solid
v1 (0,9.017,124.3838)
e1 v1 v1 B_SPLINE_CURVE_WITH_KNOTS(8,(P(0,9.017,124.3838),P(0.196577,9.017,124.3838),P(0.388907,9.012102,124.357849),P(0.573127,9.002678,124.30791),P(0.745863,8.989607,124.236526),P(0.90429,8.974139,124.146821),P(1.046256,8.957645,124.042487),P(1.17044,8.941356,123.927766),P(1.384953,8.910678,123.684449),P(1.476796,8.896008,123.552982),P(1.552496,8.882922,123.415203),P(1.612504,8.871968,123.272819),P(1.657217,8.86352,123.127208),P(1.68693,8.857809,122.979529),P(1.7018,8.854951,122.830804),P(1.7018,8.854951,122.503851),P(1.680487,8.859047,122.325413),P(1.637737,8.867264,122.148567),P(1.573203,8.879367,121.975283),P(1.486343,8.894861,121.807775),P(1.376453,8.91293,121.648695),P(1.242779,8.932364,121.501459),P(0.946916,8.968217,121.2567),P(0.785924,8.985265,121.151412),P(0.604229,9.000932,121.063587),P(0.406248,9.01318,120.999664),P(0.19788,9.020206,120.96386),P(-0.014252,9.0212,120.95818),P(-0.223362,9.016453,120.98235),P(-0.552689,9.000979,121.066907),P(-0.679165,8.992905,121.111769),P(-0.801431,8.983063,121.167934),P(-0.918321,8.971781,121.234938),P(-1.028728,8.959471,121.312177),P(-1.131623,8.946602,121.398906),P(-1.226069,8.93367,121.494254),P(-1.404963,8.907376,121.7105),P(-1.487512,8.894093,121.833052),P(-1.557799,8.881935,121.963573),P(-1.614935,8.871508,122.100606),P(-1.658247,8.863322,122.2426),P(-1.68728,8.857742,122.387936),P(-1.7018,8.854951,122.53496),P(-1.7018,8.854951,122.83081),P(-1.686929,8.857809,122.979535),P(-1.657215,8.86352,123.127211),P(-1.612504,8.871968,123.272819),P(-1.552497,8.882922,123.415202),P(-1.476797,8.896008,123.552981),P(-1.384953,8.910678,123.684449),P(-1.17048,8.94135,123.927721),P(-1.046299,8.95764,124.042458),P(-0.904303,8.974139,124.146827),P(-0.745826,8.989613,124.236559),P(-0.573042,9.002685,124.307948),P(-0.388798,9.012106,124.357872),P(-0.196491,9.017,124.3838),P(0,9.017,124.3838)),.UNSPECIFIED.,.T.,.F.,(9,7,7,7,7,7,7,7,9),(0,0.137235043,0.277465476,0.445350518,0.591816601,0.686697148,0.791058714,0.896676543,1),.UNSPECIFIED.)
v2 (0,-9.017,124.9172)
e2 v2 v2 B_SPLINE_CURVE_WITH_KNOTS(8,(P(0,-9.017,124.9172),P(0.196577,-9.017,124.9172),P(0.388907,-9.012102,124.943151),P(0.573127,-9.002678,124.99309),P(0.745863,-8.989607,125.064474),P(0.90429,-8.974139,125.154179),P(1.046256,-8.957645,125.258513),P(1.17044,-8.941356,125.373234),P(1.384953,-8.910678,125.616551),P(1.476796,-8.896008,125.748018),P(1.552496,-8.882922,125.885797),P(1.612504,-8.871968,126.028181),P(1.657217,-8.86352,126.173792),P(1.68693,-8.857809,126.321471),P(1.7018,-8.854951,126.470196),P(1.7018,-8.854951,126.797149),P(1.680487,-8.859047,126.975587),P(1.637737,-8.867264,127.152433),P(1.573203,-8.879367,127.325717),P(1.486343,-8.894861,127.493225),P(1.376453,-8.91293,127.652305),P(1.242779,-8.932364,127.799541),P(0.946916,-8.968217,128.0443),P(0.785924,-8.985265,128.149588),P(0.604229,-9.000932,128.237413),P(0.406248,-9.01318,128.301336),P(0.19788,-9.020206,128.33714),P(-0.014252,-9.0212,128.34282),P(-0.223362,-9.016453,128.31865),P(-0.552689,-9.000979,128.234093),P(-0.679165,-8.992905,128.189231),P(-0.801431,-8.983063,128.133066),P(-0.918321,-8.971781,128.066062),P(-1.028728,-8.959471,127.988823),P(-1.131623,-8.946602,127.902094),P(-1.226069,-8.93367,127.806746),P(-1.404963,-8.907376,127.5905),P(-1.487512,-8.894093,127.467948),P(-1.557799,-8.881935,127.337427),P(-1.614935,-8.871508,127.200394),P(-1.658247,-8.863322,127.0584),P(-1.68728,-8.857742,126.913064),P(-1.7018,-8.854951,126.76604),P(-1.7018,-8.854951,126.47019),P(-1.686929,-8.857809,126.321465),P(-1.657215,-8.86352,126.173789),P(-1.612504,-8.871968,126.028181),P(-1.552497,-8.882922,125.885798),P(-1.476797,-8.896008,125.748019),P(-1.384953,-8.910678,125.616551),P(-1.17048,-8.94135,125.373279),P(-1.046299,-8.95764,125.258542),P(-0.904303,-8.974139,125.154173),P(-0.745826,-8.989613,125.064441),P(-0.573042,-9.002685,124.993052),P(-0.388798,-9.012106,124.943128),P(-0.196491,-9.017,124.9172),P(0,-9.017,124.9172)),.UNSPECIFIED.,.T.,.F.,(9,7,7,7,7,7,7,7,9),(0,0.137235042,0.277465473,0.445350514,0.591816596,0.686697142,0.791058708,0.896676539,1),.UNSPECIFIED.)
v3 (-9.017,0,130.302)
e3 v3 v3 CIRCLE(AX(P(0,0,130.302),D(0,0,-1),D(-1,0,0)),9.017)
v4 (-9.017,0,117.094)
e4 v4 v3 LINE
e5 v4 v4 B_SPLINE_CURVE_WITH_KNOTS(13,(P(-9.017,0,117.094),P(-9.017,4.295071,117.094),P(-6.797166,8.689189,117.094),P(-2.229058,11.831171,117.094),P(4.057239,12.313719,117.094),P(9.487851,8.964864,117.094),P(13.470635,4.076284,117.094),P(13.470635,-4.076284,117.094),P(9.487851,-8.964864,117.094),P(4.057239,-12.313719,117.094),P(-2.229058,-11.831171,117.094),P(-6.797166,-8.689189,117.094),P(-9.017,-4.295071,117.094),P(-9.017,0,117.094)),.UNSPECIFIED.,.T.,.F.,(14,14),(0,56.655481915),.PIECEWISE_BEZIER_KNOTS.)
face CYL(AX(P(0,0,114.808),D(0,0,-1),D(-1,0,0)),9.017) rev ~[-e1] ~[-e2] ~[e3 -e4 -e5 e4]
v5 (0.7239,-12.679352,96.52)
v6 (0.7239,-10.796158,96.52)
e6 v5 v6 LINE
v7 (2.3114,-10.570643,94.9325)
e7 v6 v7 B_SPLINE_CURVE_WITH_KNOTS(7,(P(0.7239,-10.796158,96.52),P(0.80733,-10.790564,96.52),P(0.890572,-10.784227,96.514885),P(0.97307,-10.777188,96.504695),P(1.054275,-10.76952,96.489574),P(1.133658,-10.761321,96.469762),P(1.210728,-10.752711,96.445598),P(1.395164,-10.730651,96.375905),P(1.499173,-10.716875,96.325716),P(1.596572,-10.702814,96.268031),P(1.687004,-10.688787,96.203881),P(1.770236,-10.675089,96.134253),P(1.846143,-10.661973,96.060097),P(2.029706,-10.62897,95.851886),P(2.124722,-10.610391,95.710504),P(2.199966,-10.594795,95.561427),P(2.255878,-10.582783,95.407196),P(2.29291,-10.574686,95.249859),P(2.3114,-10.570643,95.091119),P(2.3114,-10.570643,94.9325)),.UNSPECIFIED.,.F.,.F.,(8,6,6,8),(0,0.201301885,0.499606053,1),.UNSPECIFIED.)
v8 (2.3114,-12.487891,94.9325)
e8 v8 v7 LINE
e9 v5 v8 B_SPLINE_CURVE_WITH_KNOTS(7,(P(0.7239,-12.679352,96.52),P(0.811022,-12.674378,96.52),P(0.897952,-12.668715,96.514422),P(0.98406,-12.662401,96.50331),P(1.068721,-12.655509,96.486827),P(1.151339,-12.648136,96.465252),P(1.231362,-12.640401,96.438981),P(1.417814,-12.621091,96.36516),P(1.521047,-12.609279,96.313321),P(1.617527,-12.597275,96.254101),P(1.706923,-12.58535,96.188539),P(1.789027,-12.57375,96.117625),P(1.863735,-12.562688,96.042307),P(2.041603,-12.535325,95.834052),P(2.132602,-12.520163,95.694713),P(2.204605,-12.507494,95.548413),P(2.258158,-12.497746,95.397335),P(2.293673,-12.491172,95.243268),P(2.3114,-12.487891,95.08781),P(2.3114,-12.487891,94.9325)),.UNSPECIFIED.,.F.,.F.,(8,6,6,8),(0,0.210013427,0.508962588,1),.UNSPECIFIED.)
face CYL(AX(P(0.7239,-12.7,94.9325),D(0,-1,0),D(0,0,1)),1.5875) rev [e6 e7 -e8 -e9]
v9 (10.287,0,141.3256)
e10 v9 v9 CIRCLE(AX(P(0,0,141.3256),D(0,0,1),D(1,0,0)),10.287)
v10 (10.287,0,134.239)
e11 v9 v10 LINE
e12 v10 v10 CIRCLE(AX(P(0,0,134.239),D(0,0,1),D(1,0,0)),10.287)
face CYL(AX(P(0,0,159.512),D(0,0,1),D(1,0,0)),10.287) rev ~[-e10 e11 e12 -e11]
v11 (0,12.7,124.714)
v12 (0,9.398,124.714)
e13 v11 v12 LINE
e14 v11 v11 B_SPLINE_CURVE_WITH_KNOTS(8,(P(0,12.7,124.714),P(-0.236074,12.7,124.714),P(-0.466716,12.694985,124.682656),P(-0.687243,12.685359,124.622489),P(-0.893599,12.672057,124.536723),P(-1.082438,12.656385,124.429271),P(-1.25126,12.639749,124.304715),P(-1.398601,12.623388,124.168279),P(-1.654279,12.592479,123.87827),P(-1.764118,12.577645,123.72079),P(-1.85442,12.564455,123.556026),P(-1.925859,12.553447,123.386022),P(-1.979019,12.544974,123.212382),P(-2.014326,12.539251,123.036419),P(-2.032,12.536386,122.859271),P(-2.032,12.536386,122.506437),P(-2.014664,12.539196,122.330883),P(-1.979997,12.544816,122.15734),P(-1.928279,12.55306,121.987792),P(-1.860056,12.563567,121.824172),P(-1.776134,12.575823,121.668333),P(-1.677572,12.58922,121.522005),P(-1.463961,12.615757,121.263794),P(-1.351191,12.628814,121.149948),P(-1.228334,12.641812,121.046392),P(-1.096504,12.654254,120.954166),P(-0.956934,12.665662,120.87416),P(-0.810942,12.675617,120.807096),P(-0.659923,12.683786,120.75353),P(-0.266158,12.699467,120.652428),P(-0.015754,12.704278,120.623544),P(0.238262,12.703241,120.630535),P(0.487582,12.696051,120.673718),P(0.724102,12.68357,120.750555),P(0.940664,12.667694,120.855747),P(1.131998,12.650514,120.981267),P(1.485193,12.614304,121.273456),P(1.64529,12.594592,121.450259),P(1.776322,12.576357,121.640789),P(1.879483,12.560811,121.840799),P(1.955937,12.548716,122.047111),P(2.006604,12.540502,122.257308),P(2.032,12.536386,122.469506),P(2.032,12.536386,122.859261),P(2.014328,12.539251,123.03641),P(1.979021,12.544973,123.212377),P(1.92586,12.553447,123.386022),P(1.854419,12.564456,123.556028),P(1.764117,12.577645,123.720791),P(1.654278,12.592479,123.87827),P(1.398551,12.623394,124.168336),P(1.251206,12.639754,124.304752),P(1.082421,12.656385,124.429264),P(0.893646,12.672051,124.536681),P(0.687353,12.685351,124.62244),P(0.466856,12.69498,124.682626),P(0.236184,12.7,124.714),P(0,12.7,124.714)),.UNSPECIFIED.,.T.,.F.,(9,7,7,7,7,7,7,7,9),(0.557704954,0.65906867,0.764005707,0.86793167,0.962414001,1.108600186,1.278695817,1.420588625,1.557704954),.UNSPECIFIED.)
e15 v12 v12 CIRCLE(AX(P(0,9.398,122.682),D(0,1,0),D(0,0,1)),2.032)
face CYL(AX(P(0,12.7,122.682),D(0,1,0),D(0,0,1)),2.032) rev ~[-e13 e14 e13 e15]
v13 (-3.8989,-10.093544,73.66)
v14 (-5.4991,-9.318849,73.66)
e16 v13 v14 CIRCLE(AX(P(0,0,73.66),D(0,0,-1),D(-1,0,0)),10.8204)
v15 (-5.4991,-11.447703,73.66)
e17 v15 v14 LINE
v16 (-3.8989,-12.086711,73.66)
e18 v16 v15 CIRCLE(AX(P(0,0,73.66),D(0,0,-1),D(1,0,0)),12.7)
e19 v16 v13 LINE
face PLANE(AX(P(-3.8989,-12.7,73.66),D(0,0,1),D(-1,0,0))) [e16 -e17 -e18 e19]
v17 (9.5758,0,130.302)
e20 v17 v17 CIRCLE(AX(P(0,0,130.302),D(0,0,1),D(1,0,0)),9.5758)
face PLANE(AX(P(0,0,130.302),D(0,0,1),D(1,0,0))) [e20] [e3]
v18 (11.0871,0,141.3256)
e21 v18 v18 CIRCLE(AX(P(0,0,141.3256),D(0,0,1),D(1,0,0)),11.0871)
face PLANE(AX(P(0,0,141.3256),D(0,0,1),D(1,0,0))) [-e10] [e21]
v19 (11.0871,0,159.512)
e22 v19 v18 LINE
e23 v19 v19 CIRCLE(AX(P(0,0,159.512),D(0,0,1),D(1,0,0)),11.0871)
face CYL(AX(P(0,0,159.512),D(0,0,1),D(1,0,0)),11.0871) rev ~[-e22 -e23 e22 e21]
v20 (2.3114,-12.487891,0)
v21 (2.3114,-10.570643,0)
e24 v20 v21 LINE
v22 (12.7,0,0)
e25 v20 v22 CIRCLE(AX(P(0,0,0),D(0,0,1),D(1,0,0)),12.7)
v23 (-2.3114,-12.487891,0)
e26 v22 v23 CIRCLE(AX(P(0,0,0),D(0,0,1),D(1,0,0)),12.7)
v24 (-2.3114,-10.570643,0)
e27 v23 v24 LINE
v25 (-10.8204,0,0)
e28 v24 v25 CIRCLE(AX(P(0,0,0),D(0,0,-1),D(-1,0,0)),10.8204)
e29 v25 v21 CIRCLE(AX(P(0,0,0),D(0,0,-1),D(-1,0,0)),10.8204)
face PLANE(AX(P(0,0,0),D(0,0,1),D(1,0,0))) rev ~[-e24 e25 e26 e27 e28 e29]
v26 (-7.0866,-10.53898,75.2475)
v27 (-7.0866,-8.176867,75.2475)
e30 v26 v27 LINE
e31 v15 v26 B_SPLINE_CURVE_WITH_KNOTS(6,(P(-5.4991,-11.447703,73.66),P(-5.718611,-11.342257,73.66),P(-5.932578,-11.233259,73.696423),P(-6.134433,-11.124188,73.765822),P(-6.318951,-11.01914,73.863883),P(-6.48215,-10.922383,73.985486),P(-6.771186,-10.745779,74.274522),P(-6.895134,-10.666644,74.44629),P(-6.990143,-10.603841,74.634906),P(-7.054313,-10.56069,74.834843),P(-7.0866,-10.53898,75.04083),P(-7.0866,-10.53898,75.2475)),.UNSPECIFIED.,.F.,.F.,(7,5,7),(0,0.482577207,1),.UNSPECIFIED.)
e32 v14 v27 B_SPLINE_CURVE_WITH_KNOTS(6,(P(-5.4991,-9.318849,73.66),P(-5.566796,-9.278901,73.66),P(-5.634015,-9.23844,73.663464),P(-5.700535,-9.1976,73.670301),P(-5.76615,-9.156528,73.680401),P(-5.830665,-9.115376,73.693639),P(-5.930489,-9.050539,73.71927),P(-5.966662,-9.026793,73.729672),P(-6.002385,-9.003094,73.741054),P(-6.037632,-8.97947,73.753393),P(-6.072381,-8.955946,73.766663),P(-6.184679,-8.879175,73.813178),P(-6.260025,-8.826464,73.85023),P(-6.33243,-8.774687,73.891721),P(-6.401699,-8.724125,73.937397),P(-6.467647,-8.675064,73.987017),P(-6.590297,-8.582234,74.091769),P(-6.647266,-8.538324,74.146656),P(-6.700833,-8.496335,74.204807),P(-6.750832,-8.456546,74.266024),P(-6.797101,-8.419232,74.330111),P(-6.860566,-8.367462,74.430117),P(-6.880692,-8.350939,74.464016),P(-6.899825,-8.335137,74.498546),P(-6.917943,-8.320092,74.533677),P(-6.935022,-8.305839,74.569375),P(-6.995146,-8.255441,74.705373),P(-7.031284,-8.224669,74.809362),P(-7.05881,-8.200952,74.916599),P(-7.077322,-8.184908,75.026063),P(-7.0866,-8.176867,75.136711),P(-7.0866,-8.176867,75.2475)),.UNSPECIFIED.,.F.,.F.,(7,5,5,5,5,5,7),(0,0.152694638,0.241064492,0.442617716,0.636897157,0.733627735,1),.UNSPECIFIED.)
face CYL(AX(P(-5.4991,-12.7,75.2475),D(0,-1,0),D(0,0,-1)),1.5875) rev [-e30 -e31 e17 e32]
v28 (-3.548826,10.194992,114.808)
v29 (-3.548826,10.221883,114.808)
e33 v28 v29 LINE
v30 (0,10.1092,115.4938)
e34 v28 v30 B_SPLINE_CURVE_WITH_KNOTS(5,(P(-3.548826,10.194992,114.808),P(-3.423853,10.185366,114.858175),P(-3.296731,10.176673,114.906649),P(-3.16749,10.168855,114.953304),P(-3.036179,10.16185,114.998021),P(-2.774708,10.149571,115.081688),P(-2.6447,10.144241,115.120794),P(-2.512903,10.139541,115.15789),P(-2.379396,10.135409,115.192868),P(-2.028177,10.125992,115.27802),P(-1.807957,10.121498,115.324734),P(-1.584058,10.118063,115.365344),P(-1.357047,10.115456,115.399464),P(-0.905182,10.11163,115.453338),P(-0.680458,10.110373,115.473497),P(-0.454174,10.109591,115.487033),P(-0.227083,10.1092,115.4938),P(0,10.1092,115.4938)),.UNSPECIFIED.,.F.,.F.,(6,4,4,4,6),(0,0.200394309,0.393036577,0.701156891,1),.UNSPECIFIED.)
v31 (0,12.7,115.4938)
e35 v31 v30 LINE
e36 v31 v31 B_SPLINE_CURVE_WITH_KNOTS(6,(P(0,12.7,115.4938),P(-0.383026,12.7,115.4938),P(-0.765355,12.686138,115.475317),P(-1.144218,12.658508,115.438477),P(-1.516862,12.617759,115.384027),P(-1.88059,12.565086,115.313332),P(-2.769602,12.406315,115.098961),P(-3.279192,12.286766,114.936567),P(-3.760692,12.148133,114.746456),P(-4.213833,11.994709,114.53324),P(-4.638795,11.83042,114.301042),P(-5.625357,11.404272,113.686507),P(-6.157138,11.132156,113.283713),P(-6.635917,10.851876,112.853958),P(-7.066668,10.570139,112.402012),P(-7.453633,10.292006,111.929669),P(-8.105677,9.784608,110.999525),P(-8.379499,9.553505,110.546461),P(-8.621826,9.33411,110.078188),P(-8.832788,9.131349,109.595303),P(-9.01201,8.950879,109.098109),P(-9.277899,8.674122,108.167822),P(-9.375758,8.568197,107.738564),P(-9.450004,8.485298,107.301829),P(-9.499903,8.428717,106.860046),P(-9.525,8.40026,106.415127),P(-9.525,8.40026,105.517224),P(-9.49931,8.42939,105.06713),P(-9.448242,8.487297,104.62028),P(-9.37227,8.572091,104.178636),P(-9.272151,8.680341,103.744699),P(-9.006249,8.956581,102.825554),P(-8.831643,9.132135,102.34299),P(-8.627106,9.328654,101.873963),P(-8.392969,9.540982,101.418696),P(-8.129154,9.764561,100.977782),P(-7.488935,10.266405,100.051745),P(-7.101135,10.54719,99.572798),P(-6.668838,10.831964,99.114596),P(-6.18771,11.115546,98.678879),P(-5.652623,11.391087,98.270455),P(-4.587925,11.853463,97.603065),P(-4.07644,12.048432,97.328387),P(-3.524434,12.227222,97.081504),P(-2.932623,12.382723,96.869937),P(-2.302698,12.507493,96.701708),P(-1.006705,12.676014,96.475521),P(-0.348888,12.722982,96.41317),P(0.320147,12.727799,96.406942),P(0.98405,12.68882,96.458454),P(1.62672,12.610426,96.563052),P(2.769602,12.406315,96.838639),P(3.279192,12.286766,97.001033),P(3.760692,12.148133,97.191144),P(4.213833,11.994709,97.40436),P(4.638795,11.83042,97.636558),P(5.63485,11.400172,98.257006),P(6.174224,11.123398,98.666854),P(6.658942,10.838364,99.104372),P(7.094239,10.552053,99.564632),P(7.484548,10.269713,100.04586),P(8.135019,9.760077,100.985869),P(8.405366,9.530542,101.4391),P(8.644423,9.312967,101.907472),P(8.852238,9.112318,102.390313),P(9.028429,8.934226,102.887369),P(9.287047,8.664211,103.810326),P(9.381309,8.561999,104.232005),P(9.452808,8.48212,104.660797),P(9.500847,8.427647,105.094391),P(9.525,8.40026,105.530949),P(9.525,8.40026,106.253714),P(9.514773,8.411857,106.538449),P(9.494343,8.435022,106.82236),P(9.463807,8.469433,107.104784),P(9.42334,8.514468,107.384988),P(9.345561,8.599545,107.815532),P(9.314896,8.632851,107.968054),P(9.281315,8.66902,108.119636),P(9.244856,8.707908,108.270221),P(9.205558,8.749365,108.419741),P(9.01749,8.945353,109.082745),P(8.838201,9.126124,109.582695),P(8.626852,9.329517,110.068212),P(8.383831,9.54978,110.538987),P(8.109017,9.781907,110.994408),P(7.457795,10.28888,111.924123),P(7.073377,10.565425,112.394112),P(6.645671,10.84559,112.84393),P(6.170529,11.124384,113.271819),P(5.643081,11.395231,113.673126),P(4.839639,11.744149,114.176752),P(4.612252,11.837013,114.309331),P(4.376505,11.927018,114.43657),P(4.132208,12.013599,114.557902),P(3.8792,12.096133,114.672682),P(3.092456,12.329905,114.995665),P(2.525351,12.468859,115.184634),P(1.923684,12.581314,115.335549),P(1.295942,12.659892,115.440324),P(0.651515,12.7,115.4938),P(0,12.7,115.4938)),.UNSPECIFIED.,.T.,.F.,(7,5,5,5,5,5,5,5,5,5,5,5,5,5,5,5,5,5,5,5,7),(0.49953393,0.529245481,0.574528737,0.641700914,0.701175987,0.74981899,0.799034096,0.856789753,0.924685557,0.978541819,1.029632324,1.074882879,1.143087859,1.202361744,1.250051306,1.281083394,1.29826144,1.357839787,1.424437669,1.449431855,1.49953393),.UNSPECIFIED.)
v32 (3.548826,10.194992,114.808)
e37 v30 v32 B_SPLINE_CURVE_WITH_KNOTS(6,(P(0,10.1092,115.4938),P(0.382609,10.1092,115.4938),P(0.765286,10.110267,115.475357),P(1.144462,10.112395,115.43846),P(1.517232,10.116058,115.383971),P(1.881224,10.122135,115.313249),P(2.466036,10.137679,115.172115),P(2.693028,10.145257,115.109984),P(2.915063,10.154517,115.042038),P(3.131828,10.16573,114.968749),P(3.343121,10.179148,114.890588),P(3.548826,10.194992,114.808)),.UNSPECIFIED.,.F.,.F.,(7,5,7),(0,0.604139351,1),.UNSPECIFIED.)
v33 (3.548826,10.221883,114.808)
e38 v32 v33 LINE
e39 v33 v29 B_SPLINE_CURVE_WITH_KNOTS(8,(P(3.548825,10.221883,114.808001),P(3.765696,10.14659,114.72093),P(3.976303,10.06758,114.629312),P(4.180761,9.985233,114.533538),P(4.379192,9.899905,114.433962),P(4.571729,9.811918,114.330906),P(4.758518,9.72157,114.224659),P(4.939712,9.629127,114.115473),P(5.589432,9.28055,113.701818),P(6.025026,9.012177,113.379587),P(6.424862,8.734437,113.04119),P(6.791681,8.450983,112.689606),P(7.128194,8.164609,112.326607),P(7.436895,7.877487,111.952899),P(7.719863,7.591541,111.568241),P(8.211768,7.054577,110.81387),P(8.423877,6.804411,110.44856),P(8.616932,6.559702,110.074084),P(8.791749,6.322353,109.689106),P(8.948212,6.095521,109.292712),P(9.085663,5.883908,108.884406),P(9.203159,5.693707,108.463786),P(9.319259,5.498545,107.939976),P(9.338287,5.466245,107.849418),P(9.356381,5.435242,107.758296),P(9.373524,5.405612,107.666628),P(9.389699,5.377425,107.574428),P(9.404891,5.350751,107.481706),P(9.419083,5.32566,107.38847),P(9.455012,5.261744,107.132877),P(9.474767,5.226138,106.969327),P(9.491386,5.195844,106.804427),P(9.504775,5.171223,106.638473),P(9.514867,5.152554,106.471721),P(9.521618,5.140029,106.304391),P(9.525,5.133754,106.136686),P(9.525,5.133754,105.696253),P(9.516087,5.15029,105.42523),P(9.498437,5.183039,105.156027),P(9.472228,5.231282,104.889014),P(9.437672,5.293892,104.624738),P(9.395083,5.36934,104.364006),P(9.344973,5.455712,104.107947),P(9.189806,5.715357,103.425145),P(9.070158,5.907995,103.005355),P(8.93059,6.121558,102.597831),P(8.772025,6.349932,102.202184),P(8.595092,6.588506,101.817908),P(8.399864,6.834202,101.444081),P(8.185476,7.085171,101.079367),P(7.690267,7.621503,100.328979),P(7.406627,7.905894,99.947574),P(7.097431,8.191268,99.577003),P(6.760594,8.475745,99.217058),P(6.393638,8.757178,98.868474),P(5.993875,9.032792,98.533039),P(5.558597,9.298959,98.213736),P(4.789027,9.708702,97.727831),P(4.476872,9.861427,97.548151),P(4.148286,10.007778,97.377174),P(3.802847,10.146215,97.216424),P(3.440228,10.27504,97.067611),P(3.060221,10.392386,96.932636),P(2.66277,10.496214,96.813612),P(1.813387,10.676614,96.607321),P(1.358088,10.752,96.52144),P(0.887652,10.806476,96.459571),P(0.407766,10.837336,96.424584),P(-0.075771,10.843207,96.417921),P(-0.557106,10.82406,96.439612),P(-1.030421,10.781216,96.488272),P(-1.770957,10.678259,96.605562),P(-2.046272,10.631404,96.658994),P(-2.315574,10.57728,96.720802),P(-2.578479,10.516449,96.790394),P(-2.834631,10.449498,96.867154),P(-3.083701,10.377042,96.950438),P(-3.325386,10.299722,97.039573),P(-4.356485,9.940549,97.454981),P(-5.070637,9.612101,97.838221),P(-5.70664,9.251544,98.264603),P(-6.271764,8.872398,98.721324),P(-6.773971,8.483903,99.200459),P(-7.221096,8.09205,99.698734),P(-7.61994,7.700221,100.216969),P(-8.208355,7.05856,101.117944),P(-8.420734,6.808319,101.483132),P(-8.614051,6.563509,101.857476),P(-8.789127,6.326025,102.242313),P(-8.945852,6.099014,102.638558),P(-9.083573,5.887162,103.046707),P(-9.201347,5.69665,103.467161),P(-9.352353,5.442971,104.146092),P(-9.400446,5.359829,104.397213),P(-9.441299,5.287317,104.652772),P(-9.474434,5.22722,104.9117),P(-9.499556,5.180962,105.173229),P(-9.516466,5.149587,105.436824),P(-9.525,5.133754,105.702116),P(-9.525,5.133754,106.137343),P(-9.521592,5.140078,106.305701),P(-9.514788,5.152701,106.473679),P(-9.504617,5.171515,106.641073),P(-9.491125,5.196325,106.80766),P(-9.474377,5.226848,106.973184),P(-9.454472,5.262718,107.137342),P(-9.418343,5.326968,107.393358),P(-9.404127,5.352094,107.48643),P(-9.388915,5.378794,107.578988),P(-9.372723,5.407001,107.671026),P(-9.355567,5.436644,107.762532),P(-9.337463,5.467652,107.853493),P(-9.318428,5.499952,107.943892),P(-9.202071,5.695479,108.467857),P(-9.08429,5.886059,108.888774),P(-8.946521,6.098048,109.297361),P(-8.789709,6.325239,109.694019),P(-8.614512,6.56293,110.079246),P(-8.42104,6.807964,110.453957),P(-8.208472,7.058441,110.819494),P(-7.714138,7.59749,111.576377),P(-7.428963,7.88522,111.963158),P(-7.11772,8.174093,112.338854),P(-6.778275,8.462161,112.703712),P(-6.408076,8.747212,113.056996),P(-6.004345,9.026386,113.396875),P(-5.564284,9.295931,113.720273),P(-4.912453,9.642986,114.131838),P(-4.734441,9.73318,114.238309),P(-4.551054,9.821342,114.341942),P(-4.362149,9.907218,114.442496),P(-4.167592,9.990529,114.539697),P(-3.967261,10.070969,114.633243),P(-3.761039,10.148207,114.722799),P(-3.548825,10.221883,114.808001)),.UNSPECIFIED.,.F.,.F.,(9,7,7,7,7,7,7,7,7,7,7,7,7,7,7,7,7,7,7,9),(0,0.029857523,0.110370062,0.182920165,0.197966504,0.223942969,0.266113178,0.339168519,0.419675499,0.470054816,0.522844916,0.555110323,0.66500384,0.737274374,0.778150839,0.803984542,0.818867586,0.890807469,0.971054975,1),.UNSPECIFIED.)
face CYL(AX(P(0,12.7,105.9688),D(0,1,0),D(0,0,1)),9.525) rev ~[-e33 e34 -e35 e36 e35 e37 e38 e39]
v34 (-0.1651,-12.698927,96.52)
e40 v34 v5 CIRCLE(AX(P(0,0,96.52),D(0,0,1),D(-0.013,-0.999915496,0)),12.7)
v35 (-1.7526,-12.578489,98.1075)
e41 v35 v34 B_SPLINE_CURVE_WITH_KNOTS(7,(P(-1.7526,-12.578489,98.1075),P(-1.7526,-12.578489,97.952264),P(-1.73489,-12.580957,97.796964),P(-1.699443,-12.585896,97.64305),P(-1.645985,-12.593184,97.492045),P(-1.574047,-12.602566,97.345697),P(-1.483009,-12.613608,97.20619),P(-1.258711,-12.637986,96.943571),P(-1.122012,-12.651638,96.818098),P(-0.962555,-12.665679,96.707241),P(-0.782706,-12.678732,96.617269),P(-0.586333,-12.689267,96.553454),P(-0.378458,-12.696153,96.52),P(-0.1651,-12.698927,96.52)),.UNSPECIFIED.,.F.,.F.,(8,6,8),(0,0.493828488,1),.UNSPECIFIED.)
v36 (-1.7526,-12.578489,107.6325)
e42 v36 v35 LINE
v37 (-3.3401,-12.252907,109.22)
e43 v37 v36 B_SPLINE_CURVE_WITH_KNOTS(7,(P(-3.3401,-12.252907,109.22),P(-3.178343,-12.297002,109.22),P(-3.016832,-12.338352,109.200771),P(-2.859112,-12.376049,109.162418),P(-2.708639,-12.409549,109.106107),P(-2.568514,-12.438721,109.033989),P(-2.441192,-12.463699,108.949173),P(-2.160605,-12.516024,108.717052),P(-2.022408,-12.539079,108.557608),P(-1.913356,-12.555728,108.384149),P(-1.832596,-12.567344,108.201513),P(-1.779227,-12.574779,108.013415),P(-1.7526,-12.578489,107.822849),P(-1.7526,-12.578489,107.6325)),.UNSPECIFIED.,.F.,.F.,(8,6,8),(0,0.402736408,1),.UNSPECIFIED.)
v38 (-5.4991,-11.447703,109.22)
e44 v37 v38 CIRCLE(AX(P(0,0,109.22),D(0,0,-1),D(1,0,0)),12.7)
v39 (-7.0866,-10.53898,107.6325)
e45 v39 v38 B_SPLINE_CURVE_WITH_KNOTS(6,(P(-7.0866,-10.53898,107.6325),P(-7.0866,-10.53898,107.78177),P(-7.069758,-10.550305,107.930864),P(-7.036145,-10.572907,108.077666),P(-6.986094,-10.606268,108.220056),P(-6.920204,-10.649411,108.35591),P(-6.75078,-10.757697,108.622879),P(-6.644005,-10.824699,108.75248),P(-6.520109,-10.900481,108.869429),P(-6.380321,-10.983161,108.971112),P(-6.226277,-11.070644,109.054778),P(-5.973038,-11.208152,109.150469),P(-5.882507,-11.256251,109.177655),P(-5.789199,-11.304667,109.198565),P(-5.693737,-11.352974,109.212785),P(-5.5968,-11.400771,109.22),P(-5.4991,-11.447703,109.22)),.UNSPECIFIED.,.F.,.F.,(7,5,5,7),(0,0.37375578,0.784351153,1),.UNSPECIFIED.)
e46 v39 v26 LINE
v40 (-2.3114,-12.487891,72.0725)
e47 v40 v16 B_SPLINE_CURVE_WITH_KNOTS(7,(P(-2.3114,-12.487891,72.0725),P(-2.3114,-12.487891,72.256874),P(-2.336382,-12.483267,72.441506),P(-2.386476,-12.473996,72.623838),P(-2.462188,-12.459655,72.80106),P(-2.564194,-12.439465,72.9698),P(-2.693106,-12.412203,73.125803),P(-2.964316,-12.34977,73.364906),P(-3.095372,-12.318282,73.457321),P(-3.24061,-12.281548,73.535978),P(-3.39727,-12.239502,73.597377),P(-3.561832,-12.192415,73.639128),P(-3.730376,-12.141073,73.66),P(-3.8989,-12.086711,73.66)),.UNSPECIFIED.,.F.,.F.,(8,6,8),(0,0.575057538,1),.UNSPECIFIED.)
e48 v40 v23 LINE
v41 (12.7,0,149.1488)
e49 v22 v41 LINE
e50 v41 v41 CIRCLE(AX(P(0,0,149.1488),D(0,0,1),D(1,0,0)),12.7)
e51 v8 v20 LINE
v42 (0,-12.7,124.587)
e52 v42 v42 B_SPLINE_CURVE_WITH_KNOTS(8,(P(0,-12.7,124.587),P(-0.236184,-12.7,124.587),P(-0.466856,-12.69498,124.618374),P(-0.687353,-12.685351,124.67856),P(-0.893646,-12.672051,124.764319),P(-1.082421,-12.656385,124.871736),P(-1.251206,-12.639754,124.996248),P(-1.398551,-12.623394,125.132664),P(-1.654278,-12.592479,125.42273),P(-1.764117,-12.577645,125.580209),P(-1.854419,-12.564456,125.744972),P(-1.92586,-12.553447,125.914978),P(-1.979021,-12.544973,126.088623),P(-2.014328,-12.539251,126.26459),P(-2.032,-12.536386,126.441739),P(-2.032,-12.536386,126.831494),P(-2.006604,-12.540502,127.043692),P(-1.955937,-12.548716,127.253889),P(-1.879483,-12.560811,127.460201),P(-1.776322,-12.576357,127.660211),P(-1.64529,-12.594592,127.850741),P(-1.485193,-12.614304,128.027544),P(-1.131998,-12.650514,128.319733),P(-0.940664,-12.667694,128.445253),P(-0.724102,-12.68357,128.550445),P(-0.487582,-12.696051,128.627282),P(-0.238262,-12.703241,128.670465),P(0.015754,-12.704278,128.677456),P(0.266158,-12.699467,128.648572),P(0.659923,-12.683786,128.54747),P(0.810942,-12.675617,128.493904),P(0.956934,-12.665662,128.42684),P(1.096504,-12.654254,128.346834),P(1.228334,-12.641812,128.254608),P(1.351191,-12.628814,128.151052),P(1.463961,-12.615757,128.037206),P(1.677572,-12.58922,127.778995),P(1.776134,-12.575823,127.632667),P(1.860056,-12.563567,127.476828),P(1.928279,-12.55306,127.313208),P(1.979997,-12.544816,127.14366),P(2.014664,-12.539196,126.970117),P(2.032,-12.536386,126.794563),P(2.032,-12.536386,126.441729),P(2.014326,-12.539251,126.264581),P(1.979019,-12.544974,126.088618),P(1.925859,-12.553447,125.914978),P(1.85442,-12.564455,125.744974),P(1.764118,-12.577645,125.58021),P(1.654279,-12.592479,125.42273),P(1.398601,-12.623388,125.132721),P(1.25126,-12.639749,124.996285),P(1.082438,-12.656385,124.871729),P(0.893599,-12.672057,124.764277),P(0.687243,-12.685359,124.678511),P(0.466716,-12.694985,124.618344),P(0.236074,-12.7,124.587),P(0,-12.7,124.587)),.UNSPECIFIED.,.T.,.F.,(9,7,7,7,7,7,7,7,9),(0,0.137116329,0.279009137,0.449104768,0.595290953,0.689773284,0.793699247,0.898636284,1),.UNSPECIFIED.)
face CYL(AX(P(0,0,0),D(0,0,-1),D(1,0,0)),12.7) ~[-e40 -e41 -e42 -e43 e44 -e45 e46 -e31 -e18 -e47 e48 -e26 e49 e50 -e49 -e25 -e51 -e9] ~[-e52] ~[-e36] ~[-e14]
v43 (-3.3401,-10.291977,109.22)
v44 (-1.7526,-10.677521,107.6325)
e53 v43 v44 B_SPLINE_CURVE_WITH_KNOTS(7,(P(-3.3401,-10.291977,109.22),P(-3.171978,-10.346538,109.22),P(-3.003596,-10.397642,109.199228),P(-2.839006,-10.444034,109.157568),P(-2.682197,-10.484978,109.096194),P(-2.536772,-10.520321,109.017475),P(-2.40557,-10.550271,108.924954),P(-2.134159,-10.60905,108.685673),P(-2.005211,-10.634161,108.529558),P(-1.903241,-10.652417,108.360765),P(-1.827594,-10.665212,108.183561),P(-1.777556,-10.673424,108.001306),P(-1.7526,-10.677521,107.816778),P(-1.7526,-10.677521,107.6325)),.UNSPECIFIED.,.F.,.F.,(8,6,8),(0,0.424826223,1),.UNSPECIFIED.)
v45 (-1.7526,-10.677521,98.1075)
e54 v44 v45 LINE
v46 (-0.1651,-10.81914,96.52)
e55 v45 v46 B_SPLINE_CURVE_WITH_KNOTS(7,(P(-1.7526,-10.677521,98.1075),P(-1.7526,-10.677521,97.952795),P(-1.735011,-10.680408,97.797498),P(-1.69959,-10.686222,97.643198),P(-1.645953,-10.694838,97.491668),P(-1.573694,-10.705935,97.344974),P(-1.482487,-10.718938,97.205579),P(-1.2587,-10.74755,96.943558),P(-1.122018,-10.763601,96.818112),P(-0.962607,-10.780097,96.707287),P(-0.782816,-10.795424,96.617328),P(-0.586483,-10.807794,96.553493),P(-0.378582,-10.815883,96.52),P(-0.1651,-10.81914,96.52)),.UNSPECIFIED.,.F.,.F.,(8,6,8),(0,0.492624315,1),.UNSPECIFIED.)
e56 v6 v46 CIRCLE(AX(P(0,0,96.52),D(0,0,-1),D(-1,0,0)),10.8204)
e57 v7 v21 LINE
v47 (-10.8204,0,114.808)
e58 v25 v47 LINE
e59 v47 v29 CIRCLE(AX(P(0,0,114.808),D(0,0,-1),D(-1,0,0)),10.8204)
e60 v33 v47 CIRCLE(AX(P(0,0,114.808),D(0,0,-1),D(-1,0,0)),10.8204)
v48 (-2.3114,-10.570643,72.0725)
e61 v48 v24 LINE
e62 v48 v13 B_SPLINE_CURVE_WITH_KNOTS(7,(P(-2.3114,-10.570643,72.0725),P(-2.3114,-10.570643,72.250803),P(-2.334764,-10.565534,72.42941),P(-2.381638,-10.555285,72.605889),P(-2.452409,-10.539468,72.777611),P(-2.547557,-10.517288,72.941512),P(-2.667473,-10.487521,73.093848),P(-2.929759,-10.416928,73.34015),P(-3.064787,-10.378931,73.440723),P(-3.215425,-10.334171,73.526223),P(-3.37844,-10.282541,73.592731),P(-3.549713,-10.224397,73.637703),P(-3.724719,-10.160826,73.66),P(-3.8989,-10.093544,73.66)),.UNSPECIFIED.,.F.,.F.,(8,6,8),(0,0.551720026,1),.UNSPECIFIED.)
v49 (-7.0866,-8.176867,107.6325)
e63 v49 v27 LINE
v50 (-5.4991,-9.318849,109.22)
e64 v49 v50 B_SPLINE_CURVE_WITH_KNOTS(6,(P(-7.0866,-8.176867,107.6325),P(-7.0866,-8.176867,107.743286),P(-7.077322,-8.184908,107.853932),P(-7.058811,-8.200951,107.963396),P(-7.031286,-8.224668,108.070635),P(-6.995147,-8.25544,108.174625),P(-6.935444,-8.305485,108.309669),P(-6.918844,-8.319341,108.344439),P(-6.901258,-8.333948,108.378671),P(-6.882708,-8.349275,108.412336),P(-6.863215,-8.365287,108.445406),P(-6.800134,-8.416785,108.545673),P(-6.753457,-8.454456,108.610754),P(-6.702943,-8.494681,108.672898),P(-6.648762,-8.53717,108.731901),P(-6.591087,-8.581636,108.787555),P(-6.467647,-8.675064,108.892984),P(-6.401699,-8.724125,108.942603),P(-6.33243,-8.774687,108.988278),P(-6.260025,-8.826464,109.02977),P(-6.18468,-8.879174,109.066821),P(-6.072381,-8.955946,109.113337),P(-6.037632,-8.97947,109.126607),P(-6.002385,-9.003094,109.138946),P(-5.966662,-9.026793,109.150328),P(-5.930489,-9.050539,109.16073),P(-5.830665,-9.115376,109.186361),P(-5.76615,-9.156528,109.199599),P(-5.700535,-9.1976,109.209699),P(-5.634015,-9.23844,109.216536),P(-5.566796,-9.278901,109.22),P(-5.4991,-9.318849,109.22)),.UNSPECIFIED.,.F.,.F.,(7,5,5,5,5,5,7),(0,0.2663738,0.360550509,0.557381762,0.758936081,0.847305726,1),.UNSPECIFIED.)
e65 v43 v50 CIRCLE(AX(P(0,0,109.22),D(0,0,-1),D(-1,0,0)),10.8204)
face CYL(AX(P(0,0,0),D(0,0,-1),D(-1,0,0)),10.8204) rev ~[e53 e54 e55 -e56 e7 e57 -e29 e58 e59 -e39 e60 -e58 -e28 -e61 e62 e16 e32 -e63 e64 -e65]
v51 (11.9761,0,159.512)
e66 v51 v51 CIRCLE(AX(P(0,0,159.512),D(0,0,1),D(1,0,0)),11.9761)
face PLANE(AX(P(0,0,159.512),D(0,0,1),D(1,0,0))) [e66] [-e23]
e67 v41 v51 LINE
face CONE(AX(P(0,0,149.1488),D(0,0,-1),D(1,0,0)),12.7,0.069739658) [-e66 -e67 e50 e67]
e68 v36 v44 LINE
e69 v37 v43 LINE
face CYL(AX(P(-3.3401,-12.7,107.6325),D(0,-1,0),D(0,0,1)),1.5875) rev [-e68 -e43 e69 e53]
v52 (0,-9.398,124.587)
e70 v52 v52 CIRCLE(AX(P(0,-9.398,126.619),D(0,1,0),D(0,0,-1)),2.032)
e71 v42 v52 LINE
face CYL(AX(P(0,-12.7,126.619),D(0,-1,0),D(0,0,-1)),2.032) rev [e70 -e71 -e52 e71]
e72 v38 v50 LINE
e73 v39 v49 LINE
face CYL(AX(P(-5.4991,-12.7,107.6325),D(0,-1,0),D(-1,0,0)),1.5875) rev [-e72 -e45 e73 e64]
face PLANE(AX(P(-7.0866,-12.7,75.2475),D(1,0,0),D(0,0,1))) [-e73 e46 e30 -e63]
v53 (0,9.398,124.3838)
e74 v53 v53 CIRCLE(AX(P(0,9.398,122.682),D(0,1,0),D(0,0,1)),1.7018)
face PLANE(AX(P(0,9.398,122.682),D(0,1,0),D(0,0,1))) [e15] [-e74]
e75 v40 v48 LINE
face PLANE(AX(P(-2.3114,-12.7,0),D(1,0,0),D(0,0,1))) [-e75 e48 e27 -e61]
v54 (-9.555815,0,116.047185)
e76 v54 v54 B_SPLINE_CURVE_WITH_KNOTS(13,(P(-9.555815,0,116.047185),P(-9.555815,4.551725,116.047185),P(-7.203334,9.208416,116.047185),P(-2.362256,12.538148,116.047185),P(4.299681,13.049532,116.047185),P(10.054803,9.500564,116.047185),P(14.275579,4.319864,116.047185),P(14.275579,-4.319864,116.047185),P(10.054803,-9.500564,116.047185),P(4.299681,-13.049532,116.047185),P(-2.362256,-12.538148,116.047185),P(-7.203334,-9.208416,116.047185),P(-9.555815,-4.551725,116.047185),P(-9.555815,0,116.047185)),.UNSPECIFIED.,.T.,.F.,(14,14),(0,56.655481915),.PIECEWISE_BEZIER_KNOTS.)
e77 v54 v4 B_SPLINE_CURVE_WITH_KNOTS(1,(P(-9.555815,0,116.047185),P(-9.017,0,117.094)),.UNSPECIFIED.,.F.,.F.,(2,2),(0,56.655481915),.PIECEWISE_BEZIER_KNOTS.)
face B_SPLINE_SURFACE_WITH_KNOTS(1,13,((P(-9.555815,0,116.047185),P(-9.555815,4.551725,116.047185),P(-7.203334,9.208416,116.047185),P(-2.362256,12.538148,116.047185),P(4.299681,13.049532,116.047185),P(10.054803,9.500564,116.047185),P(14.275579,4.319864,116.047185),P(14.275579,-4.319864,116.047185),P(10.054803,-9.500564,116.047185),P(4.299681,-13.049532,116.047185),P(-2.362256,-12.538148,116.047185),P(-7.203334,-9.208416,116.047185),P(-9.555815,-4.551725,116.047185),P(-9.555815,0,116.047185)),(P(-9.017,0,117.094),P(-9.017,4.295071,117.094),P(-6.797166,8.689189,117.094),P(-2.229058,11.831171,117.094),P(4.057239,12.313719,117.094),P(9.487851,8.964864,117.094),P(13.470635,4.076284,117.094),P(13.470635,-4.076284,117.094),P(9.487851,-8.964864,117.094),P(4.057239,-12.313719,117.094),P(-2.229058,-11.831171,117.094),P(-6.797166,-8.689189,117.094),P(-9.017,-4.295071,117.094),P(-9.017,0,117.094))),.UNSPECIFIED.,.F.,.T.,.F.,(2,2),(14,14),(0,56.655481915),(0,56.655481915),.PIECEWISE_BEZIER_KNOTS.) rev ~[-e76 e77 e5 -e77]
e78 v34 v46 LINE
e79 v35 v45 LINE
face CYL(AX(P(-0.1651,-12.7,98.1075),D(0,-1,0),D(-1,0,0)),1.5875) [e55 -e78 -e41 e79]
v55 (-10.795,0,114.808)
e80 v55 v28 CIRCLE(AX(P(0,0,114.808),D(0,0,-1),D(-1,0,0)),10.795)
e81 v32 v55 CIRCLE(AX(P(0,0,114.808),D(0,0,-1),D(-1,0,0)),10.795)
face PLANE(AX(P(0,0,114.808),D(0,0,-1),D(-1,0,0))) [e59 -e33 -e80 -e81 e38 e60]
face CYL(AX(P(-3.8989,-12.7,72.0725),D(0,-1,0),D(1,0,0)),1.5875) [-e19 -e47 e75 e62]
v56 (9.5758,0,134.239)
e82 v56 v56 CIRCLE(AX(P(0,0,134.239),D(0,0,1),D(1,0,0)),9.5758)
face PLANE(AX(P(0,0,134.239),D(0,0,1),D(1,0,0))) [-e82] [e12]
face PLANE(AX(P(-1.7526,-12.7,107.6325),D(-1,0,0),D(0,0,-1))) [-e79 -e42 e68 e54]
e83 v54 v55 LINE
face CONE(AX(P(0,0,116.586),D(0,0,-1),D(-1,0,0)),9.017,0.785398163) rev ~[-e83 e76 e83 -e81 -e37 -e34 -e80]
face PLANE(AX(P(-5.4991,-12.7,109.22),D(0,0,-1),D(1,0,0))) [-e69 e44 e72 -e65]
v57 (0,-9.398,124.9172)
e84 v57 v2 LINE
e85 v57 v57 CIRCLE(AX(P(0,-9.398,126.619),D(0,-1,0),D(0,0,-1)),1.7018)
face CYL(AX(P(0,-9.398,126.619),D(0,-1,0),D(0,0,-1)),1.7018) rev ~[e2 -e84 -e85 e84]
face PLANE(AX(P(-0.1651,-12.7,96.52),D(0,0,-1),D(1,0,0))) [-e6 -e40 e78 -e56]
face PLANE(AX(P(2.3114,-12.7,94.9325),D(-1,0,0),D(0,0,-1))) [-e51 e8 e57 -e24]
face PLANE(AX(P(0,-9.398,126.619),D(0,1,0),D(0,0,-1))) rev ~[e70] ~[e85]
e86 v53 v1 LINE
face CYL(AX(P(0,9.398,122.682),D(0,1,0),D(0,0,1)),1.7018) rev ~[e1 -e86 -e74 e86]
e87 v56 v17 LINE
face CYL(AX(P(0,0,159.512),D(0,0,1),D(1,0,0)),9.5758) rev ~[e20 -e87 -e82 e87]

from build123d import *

# Parameters (mm, degrees)
SKETCH1_R           = 12.7
EXTRUDE1_DEPTH      = 159.512
SKETCH3_R           = 10.8204
CUT_EXTRUDE1_DEPTH  = 114.808
SKETCH4_R           = 9.017
CUT_EXTRUDE2_DEPTH  = 45.704
CHAMFER1_SIZE       = 1.778
CHAMFER2_SIZE       = 0.762
CHAMFER2_SIZE2      = 0.508
SKETCH5_R           = 9.5758
CUT_EXTRUDE3_DEPTH  = 29.21
SKETCH8_R           = 10.287
CUT_EXTRUDE5_DEPTH  = 25.273
SKETCH9_R           = 11.0871
CUT_EXTRUDE6_DEPTH  = 18.1864
CHAMFER3_SIZE       = 10.3632
CHAMFER3_SIZE2      = 0.7239
CUT_EXTRUDE7_DEPTH  = 7.62
SKETCH11_R          = 2.032
CUT_EXTRUDE11_DEPTH = 3.302
SKETCH15_R          = 1.7018
CUT_EXTRUDE12_DEPTH = 3.302
SKETCH16_R          = 9.525
CUT_EXTRUDE13_DEPTH = 12.7
SKETCH17_R          = 2.032
CUT_EXTRUDE14_DEPTH = 3.302
SKETCH18_R          = 1.7018
CUT_EXTRUDE15_DEPTH = 3.302


with BuildPart() as part:
    # Sketch1 → Extrude1 (new body)
    with BuildSketch(Plane.XY):
        Circle(SKETCH1_R)
    extrude(amount=EXTRUDE1_DEPTH)

    # Sketch3 → Cut-Extrude1 (cut)
    with BuildSketch(Plane(origin=(0, 0, 0), x_dir=(-1, 0, 0), z_dir=(0, 0, -1))):
        Circle(SKETCH3_R)
    extrude(amount=-CUT_EXTRUDE1_DEPTH, mode=Mode.SUBTRACT)

    # Sketch4 → Cut-Extrude2 (cut, through all)
    with BuildSketch(Plane(origin=(0, 0, 114.808), x_dir=(-1, 0, 0), z_dir=(0, 0, -1))):
        Circle(SKETCH4_R)
    extrude(amount=-CUT_EXTRUDE2_DEPTH, mode=Mode.SUBTRACT)

    # Chamfer1
    chamfer1_edges = [part.edges().sort_by_distance(p)[0] for p in [
        (9.017, 0, 114.808),
    ]]
    chamfer(chamfer1_edges, length=CHAMFER1_SIZE)

    # Chamfer2
    chamfer2_edges = [part.edges().sort_by_distance(p)[0] for p in [
        (9.017, 0, 116.586),
    ]]
    chamfer2_side = [part.faces().sort_by_distance(p)[0] for p in [
        (9.906, 0, 115.697),
    ]]
    chamfer(chamfer2_edges, length=CHAMFER2_SIZE, length2=CHAMFER2_SIZE2, reference=chamfer2_side[0])

    # Sketch5 → Cut-Extrude3 (cut)
    with BuildSketch(Plane.XY.offset(159.512)):
        Circle(SKETCH5_R)
    extrude(amount=-CUT_EXTRUDE3_DEPTH, mode=Mode.SUBTRACT)

    # Sketch8 → Cut-Extrude5 (cut)
    with BuildSketch(Plane.XY.offset(159.512)):
        Circle(SKETCH8_R)
    extrude(amount=-CUT_EXTRUDE5_DEPTH, mode=Mode.SUBTRACT)

    # Sketch9 → Cut-Extrude6 (cut)
    with BuildSketch(Plane.XY.offset(159.512)):
        Circle(SKETCH9_R)
    extrude(amount=-CUT_EXTRUDE6_DEPTH, mode=Mode.SUBTRACT)

    # Chamfer3
    chamfer3_edges = [part.edges().sort_by_distance(p)[0] for p in [
        (-12.7, 0, 159.512),
    ]]
    chamfer3_side = [part.faces().sort_by_distance(p)[0] for p in [
        (-12.7, 0, 79.756),
    ]]
    chamfer(chamfer3_edges, length=CHAMFER3_SIZE, length2=CHAMFER3_SIZE2, reference=chamfer3_side[0])

    # Sketch10 → Cut-Extrude7 (cut)
    with BuildSketch(Plane(origin=(0, -12.7, 0), x_dir=(-1, 0, 0), z_dir=(0, 1, 0))):
        with BuildLine():
            Line((2.3114, 0), (2.3114, 72.0725))
            ThreePointArc((2.3114, 72.0725), (2.776367985, 73.195032015), (3.8989, 73.66))
            Line((3.8989, 73.66), (5.4991, 73.66))
            ThreePointArc((5.4991, 73.66), (6.621632015, 74.124967985), (7.0866, 75.2475))
            Line((7.0866, 75.2475), (7.0866, 107.6325))
            ThreePointArc((7.0866, 107.6325), (6.621632015, 108.755032015), (5.4991, 109.22))
            Line((5.4991, 109.22), (3.3401, 109.22))
            ThreePointArc((3.3401, 109.22), (2.217567985, 108.755032015), (1.7526, 107.6325))
            Line((1.7526, 107.6325), (1.7526, 98.1075))
            ThreePointArc((1.7526, 98.1075), (1.287632015, 96.984967985), (0.1651, 96.52))
            Line((0.1651, 96.52), (-0.7239, 96.52))
            ThreePointArc((-0.7239, 96.52), (-1.846432015, 96.055032015), (-2.3114, 94.9325))
            Line((-2.3114, 94.9325), (-2.3114, 0))
            Line((-2.3114, 0), (2.3114, 0))
        make_face()
    extrude(amount=CUT_EXTRUDE7_DEPTH, mode=Mode.SUBTRACT)

    # Sketch11 → Cut-Extrude11 (cut)
    with BuildSketch(Plane(origin=(0, -12.7, 0), x_dir=(-1, 0, 0), z_dir=(0, 1, 0))):
        with Locations(Location((0, 126.619, 0), (0, 0, 270))):  # turned: the seam where the file's is
            Circle(SKETCH11_R)
    extrude(amount=CUT_EXTRUDE11_DEPTH, mode=Mode.SUBTRACT)

    # Sketch15 → Cut-Extrude12 (cut)
    with BuildSketch(Plane.XZ.offset(9.398)):
        with Locations(Location((0, 126.619, 0), (0, 0, 270))):  # turned: the seam where the file's is
            Circle(SKETCH15_R)
    extrude(amount=-CUT_EXTRUDE12_DEPTH, mode=Mode.SUBTRACT)

    # Sketch16 → Cut-Extrude13 (cut)
    with BuildSketch(Plane(origin=(0, 12.7, 0), x_dir=(-1, 0, 0), z_dir=(0, 1, 0))):
        with Locations(Location((0, 105.9688, 0), (0, 0, 90))):  # turned: the seam where the file's is
            Circle(SKETCH16_R)
    extrude(amount=-CUT_EXTRUDE13_DEPTH, mode=Mode.SUBTRACT)

    # Sketch17 → Cut-Extrude14 (cut)
    with BuildSketch(Plane(origin=(0, 12.7, 0), x_dir=(-1, 0, 0), z_dir=(0, 1, 0))):
        with Locations(Location((0, 122.682, 0), (0, 0, 90))):  # turned: the seam where the file's is
            Circle(SKETCH17_R)
    extrude(amount=-CUT_EXTRUDE14_DEPTH, mode=Mode.SUBTRACT)

    # Sketch18 → Cut-Extrude15 (cut)
    with BuildSketch(Plane(origin=(0, 9.398, 0), x_dir=(-1, 0, 0), z_dir=(0, 1, 0))):
        with Locations(Location((0, 122.682, 0), (0, 0, 90))):  # turned: the seam where the file's is
            Circle(SKETCH18_R)
    extrude(amount=-CUT_EXTRUDE15_DEPTH, mode=Mode.SUBTRACT)


solid = part.part
